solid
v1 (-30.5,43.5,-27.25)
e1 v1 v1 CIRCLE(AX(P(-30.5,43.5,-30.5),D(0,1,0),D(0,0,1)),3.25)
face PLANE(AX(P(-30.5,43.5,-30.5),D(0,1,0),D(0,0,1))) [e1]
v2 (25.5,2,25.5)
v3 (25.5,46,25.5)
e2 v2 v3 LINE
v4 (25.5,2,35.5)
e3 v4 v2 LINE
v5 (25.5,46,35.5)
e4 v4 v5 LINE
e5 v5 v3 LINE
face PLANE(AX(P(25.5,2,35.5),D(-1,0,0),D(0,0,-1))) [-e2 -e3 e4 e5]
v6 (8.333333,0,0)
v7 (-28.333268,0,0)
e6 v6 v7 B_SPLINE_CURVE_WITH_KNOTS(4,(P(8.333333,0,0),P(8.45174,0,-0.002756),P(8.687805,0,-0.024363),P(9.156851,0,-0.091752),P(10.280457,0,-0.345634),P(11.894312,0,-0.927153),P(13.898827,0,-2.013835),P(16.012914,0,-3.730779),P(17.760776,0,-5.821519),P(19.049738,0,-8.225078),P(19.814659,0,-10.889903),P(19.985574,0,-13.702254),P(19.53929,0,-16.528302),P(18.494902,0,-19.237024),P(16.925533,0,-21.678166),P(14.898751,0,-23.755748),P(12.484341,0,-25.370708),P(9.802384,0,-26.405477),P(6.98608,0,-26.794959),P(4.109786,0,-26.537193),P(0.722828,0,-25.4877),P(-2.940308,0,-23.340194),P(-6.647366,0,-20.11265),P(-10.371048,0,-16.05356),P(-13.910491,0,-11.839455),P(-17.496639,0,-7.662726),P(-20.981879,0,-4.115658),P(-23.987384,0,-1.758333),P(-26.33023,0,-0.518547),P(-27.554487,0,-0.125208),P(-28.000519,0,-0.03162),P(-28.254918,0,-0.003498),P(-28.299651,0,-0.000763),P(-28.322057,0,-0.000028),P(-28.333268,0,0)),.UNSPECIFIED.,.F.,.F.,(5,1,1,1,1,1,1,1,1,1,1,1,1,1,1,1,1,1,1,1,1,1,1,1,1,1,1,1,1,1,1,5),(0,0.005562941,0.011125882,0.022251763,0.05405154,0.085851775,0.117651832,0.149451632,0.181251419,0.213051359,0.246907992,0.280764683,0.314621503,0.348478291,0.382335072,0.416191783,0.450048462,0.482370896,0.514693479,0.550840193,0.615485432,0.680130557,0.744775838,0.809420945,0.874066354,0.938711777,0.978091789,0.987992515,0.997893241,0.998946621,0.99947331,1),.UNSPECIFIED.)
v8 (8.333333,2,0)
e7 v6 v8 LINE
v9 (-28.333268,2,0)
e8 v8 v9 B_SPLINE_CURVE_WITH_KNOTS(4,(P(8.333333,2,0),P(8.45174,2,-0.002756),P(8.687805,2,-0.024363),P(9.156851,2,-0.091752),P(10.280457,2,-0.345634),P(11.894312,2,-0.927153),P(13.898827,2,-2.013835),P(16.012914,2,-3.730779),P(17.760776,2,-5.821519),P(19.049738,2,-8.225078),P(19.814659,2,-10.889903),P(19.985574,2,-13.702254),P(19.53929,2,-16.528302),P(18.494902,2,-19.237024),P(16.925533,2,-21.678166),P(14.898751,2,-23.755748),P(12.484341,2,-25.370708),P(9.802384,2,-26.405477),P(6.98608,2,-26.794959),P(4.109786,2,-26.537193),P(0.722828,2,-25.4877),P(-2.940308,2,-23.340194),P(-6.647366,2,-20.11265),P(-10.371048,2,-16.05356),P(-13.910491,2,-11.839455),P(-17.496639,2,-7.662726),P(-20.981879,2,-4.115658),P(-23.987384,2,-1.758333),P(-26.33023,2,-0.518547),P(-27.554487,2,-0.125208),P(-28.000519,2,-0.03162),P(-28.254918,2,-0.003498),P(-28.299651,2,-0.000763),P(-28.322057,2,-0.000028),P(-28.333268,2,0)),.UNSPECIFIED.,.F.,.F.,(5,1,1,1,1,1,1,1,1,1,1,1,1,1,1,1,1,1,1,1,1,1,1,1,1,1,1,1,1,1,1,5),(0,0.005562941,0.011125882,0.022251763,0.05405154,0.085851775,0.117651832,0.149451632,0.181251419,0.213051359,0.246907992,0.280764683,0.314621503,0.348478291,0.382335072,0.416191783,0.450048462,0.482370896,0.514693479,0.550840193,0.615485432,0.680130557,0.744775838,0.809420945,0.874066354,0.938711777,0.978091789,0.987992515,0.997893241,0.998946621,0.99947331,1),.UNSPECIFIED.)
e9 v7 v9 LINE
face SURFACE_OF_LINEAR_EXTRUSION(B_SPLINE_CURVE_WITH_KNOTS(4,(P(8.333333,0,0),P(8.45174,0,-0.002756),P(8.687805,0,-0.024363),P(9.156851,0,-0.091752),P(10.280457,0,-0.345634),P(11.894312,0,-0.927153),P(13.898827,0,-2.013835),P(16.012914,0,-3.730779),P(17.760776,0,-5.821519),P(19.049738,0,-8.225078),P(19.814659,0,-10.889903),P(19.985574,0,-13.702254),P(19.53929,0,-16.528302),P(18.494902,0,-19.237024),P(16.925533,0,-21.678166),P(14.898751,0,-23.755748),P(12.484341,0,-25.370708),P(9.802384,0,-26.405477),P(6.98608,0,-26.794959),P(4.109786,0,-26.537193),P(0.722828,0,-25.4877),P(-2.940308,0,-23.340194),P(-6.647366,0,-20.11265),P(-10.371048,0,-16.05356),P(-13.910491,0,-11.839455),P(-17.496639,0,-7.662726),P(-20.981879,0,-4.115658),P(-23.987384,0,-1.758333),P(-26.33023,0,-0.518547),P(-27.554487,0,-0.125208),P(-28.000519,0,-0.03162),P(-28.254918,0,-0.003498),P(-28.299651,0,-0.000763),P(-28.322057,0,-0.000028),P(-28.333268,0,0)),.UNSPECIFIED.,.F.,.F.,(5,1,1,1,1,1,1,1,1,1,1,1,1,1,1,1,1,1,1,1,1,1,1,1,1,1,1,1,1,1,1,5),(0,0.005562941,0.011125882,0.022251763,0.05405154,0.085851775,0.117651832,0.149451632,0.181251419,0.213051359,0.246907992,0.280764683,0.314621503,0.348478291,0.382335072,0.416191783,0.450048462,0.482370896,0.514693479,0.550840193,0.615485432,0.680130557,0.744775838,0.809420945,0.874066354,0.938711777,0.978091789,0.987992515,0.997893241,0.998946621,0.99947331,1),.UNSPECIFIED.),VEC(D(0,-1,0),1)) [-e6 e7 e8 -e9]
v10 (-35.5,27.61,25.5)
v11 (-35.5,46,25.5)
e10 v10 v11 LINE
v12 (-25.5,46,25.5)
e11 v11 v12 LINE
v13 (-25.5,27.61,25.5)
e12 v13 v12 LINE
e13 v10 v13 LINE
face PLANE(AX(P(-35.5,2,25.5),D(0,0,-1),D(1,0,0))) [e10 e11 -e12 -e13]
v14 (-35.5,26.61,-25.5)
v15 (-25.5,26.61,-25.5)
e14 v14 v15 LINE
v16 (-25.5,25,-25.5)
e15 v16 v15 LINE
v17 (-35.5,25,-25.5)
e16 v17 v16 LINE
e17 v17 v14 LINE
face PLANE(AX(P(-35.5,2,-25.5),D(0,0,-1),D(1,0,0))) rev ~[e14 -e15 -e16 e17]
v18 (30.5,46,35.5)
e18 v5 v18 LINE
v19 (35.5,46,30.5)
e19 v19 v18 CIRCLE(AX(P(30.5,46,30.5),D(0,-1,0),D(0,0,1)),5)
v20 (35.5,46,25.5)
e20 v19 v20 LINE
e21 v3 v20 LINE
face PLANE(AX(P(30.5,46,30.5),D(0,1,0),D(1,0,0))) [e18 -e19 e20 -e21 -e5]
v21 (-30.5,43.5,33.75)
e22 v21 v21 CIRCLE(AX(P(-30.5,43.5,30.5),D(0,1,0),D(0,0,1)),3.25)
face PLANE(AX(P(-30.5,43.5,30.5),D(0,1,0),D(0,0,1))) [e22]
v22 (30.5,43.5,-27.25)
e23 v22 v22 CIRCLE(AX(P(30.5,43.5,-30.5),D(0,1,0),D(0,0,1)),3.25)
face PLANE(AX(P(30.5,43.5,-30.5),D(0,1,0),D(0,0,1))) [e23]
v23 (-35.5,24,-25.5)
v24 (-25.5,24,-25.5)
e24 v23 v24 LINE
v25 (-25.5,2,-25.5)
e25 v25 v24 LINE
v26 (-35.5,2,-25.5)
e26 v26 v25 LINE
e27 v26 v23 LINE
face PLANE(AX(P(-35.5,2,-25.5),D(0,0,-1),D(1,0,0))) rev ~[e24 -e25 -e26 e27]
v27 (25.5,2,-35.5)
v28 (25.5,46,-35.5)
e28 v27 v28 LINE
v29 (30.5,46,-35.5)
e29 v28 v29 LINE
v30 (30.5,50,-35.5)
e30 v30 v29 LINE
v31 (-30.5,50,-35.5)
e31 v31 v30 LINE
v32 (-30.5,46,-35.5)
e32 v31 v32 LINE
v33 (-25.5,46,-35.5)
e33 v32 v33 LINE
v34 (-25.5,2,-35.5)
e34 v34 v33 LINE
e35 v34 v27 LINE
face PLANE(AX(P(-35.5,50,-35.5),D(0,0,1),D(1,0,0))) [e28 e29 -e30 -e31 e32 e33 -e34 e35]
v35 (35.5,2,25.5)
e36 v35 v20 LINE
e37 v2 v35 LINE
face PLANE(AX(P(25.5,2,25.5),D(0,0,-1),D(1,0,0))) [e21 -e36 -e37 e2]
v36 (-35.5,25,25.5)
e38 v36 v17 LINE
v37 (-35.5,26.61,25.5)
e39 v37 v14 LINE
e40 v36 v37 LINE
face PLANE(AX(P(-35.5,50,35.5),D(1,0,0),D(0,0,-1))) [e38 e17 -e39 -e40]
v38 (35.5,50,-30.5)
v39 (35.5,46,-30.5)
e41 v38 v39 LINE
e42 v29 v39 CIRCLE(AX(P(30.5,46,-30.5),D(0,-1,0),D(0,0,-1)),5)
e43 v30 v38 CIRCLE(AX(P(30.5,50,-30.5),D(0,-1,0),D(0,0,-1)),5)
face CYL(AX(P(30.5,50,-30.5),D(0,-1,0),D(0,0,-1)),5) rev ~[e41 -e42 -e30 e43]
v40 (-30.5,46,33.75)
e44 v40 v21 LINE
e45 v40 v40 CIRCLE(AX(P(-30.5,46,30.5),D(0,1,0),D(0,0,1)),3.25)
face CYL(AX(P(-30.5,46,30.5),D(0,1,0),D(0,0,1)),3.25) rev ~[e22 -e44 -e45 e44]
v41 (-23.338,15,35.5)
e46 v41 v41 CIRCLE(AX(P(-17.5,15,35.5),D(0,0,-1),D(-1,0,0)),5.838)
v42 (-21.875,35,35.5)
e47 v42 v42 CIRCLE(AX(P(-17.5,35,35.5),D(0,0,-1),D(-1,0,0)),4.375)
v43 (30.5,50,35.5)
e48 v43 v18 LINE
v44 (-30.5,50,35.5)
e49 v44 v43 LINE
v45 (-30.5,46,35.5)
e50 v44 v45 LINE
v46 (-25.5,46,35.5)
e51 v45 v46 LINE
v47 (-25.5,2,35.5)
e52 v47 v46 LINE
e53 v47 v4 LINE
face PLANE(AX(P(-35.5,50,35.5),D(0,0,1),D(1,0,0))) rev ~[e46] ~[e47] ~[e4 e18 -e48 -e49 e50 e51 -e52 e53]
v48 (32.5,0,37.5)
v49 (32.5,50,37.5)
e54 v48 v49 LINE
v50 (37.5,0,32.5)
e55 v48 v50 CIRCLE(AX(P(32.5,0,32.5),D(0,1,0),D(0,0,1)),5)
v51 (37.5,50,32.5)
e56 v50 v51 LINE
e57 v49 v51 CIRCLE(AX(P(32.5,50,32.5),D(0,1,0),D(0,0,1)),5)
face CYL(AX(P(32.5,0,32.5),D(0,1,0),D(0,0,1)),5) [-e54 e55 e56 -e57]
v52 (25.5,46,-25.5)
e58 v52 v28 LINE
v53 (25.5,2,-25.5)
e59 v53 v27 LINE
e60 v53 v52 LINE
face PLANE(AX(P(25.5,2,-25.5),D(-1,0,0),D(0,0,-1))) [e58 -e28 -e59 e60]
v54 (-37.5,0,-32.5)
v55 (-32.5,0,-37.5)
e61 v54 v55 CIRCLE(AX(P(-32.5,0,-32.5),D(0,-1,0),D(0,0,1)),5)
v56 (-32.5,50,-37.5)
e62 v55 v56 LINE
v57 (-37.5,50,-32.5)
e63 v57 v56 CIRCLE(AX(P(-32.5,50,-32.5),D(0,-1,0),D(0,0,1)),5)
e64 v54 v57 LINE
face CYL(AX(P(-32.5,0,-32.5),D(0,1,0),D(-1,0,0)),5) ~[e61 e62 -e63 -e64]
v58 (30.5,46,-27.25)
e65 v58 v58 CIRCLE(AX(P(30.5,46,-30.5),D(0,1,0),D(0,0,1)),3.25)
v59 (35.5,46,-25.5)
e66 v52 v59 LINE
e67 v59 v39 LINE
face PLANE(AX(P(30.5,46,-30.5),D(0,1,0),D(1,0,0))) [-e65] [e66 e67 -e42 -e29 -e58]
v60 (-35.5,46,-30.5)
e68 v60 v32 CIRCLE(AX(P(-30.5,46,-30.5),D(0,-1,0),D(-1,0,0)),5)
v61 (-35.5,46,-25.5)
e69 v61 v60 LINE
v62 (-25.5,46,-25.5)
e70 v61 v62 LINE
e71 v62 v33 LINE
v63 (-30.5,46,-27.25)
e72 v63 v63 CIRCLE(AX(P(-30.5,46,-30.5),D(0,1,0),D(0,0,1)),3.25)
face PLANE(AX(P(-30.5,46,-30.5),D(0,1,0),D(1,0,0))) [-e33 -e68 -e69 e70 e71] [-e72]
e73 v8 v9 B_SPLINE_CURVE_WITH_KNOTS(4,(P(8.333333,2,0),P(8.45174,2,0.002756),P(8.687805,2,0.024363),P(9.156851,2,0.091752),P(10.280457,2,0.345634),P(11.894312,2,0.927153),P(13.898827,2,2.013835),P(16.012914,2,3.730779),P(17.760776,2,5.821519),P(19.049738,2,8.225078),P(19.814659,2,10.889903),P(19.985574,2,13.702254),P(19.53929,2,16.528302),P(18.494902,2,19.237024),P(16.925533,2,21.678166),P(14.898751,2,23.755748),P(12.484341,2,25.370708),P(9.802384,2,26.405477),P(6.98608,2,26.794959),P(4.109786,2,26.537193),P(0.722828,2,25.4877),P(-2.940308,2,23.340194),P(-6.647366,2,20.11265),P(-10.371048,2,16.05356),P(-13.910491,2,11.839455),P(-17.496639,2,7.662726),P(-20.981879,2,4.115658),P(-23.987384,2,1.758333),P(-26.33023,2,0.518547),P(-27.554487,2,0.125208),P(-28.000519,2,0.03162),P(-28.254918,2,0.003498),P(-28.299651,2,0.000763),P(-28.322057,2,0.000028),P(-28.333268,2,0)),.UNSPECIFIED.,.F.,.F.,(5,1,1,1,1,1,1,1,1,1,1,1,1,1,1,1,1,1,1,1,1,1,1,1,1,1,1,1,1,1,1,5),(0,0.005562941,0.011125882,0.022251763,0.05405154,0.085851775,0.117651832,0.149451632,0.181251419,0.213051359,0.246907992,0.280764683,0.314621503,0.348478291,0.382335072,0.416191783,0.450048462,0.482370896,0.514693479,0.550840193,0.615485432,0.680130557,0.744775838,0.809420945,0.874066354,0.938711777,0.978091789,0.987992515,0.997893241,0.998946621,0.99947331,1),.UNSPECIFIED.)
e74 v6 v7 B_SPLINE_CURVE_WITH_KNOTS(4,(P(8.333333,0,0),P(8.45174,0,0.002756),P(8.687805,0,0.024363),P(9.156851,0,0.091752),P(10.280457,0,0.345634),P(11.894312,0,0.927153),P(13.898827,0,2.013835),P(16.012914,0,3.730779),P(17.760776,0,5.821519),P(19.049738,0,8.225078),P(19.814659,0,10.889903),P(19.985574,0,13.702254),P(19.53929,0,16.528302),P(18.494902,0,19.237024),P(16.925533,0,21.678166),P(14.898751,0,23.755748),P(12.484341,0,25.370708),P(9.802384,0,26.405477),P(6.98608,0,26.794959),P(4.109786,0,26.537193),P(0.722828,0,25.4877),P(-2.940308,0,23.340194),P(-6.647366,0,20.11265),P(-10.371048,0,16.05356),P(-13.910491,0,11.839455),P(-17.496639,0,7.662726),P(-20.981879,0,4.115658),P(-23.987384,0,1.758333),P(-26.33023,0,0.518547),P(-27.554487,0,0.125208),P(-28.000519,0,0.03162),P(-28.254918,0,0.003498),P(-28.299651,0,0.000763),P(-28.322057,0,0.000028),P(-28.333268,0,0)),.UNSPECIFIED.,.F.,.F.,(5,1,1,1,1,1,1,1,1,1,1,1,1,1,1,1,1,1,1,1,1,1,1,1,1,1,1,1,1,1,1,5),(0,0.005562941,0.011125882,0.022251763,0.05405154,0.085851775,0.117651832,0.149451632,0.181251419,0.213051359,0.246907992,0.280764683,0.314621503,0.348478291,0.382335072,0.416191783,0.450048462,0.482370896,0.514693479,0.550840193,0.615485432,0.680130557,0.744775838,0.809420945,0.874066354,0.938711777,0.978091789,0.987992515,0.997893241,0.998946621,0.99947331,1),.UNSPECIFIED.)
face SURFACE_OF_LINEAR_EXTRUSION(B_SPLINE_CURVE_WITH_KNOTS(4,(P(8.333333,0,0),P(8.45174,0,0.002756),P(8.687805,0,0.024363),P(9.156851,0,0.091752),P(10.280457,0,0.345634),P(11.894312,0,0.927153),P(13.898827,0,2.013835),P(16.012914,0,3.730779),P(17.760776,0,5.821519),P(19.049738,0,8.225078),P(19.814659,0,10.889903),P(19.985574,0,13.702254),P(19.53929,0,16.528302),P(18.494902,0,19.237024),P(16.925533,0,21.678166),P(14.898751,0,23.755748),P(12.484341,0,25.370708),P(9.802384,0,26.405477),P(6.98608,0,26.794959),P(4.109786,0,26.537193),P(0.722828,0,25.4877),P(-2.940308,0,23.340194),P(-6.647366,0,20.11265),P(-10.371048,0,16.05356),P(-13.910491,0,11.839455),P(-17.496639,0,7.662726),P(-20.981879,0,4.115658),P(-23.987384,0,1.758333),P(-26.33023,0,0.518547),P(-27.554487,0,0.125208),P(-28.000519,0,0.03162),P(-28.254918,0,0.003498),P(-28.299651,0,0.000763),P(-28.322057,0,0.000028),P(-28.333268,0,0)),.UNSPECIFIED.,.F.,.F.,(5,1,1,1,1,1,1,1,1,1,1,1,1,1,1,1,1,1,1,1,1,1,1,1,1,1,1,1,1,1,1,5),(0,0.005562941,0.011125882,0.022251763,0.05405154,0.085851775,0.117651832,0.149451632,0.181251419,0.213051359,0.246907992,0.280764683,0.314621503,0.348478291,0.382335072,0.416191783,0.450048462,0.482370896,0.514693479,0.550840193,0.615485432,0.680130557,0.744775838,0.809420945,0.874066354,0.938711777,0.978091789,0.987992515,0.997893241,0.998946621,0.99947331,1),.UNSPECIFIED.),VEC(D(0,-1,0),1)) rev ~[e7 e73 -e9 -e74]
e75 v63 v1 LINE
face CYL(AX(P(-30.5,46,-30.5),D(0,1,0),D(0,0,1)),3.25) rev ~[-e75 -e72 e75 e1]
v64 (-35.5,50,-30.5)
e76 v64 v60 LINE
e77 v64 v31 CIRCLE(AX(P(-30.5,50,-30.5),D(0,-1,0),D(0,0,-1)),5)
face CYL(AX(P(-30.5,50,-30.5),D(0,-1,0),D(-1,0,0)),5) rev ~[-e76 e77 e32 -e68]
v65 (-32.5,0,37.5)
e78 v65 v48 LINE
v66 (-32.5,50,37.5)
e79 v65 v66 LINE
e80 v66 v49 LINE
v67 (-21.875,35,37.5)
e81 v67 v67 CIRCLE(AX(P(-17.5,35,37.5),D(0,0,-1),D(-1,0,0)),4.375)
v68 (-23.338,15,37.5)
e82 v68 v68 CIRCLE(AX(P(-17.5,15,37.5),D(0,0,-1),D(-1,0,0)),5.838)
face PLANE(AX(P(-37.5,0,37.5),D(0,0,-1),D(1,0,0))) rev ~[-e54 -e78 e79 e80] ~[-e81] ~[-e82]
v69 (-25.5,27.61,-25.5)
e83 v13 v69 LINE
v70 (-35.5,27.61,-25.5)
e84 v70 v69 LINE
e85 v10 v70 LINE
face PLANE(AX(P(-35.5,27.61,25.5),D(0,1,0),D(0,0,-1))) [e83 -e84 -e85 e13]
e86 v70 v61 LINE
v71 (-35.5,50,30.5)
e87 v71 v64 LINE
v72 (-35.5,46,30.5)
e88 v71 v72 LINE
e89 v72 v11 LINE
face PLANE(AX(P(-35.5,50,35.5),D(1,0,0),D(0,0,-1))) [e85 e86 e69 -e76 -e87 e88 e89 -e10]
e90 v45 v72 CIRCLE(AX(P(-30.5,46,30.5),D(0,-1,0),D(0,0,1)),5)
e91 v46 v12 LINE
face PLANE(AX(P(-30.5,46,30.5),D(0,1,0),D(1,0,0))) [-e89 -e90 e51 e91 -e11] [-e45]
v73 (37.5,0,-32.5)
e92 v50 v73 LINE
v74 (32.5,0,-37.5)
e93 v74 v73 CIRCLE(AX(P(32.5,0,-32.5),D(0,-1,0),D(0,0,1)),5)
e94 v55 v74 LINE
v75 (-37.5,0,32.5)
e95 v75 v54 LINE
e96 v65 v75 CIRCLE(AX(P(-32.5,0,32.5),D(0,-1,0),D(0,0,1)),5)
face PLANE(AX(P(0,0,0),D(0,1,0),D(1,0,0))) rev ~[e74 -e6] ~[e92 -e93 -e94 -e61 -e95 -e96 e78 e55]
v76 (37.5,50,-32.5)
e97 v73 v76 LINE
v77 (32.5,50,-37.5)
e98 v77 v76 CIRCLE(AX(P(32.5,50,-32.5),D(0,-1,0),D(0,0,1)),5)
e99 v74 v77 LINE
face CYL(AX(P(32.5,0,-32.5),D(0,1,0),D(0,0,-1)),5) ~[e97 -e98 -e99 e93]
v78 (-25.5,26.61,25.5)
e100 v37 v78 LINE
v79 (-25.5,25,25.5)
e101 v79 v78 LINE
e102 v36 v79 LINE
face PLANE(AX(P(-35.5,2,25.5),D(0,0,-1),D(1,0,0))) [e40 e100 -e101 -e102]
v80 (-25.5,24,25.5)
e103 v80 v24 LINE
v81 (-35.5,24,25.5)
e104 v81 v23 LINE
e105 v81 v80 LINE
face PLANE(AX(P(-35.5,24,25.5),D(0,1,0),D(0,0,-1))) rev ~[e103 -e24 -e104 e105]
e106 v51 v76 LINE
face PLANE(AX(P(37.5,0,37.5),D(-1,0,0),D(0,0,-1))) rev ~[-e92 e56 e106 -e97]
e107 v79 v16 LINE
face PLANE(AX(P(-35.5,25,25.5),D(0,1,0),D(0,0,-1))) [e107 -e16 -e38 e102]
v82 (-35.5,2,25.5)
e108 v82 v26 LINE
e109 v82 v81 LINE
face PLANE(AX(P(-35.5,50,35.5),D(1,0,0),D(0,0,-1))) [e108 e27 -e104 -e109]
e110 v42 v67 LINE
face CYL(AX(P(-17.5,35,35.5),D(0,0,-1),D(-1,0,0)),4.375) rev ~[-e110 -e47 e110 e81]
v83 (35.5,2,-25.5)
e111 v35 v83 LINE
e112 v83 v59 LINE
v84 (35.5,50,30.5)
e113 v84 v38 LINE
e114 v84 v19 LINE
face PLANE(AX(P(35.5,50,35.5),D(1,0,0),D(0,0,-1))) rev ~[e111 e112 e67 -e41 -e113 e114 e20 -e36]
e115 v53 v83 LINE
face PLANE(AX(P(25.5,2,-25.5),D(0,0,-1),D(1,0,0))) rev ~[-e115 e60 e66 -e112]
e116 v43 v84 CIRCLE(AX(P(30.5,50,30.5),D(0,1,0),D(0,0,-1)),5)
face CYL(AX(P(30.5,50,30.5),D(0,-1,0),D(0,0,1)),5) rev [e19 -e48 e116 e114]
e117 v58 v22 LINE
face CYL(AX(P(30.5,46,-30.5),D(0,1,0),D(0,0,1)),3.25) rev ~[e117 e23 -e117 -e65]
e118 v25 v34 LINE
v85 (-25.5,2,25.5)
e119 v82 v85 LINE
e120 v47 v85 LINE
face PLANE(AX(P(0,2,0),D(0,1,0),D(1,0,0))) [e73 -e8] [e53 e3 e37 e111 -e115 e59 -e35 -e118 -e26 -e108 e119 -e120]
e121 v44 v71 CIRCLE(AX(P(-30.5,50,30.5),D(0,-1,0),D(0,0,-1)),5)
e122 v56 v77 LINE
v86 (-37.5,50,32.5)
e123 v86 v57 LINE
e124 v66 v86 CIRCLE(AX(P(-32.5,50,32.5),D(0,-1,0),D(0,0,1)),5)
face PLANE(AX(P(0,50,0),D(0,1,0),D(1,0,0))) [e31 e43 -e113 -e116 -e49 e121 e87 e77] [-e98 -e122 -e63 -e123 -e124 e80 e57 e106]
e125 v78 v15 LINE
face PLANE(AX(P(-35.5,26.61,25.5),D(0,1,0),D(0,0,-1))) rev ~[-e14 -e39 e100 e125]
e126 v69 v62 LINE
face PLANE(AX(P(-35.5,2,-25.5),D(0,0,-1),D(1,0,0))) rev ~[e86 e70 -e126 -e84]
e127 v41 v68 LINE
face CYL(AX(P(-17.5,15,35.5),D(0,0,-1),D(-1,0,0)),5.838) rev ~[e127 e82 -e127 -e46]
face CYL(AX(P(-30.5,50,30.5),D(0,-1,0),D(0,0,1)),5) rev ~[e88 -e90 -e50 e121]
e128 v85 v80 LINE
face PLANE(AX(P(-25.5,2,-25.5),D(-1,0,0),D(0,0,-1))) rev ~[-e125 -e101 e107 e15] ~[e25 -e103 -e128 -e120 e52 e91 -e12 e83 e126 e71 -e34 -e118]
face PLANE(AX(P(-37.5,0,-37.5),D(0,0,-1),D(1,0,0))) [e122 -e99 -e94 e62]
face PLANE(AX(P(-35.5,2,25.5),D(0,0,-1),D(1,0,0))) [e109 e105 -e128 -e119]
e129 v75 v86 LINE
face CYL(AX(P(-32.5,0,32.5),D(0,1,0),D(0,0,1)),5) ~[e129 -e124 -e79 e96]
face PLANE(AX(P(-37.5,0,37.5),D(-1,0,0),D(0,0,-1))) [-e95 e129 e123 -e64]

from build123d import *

# Parameters (mm, degrees)
SKETCH1_W           = 75
SKETCH1_H           = 75
BOSS_EXTRUDE1_DEPTH = 50
SKETCH2_W           = 71
SKETCH2_H           = 71
CUT_EXTRUDE1_DEPTH  = 48
CUT_EXTRUDE6_DEPTH  = 2
FILLET4_R           = 5
FILLET5_R           = 5
FILLET6_R           = 5
FILLET7_R           = 5
SKETCH4_W           = 10
SKETCH4_H           = 10
BOSS_EXTRUDE2_DEPTH = 44
SKETCH5_W           = 10
SKETCH5_H           = 10
BOSS_EXTRUDE3_DEPTH = 44
SKETCH8_W           = 51
SKETCH8_H           = 1
BOSS_EXTRUDE4_DEPTH = 10
SKETCH9_W           = 51
SKETCH9_H           = 1
BOSS_EXTRUDE5_DEPTH = 10
SKETCH11_R          = 3.25
CUT_EXTRUDE8_DEPTH  = 2.5
SKETCH12_R          = 4.375
CUT_EXTRUDE9_DEPTH  = 2
SKETCH13_R          = 5.838
CUT_EXTRUDE10_DEPTH = 2


with BuildPart() as part:
    # Sketch1 → Boss-Extrude1 (new body)
    with BuildSketch(Plane(origin=(0, 0, 0), x_dir=(1, 0, 0), z_dir=(0, 1, 0))):
        Rectangle(SKETCH1_W, SKETCH1_H)
    extrude(amount=BOSS_EXTRUDE1_DEPTH)

    # Sketch2 → Cut-Extrude1 (cut)
    with BuildSketch(Plane(origin=(0, 50, 0), x_dir=(1, 0, 0), z_dir=(0, 1, 0))):
        Rectangle(SKETCH2_W, SKETCH2_H)
    extrude(amount=-CUT_EXTRUDE1_DEPTH, mode=Mode.SUBTRACT)

    # Sketch3 → Cut-Extrude6 (cut)
    with BuildSketch(Plane.XZ):
        with BuildLine():
            add(Edge.make_bspline(
                [(8.333333333, 0), (8.451740367, 0.002755681), (8.687804992, 0.024362572), (9.156850661, 0.091751534), (10.280456566, 0.34563371), (11.894311549, 0.927153054), (13.898826649, 2.013834871), (16.012913856, 3.730779379), (17.760775609, 5.821518912), (19.049737677, 8.225078468), (19.814659338, 10.889902937), (19.985573746, 13.70225433), (19.539290317, 16.528302053), (18.494901563, 19.237024306), (16.925532574, 21.678165695), (14.89875072, 23.755747946), (12.484340707, 25.370708371), (9.802384445, 26.405476858), (6.98608034, 26.794959186), (4.109785684, 26.53719328), (0.722828385, 25.487699584), (-2.940307765, 23.340193971), (-6.647366, 20.112650151), (-10.3710479, 16.053559605), (-13.910491439, 11.839455496), (-17.496638537, 7.662725627), (-20.98187941, 4.115658379), (-23.987384387, 1.758333025), (-26.330229801, 0.518546697), (-27.55448652, 0.125207567), (-28.000518844, 0.031619583), (-28.254918245, 0.003498461), (-28.299650799, 0.000763354), (-28.322057313, 2.7753e-05), (-28.333267806, 1.08e-07)],
                knots=[0, 0, 0, 0, 0, 0.005562941, 0.011125882, 0.022251763, 0.05405154, 0.085851775, 0.117651832, 0.149451632, 0.181251419, 0.213051359, 0.246907992, 0.280764683, 0.314621503, 0.348478291, 0.382335072, 0.416191783, 0.450048462, 0.482370896, 0.514693479, 0.550840193, 0.615485432, 0.680130557, 0.744775838, 0.809420945, 0.874066354, 0.938711777, 0.978091789, 0.987992515, 0.997893241, 0.998946621, 0.99947331, 1, 1, 1, 1, 1], degree=4))
            add(Edge.make_bspline(
                [(8.333333333, 0), (8.451740367, -0.002755681), (8.687804992, -0.024362572), (9.156850661, -0.091751534), (10.280456566, -0.34563371), (11.894311549, -0.927153054), (13.898826649, -2.013834871), (16.012913856, -3.730779379), (17.760775609, -5.821518912), (19.049737677, -8.225078468), (19.814659338, -10.889902937), (19.985573746, -13.70225433), (19.539290317, -16.528302053), (18.494901563, -19.237024306), (16.925532574, -21.678165695), (14.89875072, -23.755747946), (12.484340707, -25.370708371), (9.802384445, -26.405476858), (6.98608034, -26.794959186), (4.109785684, -26.53719328), (0.722828385, -25.487699584), (-2.940307765, -23.340193971), (-6.647366, -20.112650151), (-10.3710479, -16.053559605), (-13.910491439, -11.839455496), (-17.496638537, -7.662725627), (-20.98187941, -4.115658379), (-23.987384387, -1.758333025), (-26.330229801, -0.518546697), (-27.55448652, -0.125207567), (-28.000518844, -0.031619583), (-28.254918245, -0.003498461), (-28.299650799, -0.000763354), (-28.322057313, -2.7753e-05), (-28.333267806, 1.08e-07)],
                knots=[0, 0, 0, 0, 0, 0.005562941, 0.011125882, 0.022251763, 0.05405154, 0.085851775, 0.117651832, 0.149451632, 0.181251419, 0.213051359, 0.246907992, 0.280764683, 0.314621503, 0.348478291, 0.382335072, 0.416191783, 0.450048462, 0.482370896, 0.514693479, 0.550840193, 0.615485432, 0.680130557, 0.744775838, 0.809420945, 0.874066354, 0.938711777, 0.978091789, 0.987992515, 0.997893241, 0.998946621, 0.99947331, 1, 1, 1, 1, 1], degree=4))
        make_face()
    extrude(amount=-CUT_EXTRUDE6_DEPTH, mode=Mode.SUBTRACT)

    # Fillet4
    fillet4_edges = [part.edges().sort_by_distance(p)[0] for p in [
        (35.5, 26, 35.5),
        (37.5, 25, 37.5),
    ]]
    fillet(fillet4_edges, radius=FILLET4_R)

    # Fillet5
    fillet5_edges = [part.edges().sort_by_distance(p)[0] for p in [
        (-35.5, 26, 35.5),
        (-37.5, 25, 37.5),
    ]]
    fillet(fillet5_edges, radius=FILLET5_R)

    # Fillet6
    fillet6_edges = [part.edges().sort_by_distance(p)[0] for p in [
        (-35.5, 26, -35.5),
        (-37.5, 25, -37.5),
    ]]
    fillet(fillet6_edges, radius=FILLET6_R)

    # Fillet7
    fillet7_edges = [part.edges().sort_by_distance(p)[0] for p in [
        (35.5, 26, -35.5),
        (37.5, 25, -37.5),
    ]]
    fillet(fillet7_edges, radius=FILLET7_R)

    # Sketch4 → Boss-Extrude2 (add)
    with BuildSketch(Plane(origin=(0, 2, 0), x_dir=(1, 0, 0), z_dir=(0, 1, 0))):
        with Locations((30.5, 30.5)):
            Rectangle(SKETCH4_W, SKETCH4_H)
    extrude(amount=BOSS_EXTRUDE2_DEPTH)

    # Sketch5 → Boss-Extrude3 (add)
    with BuildSketch(Plane(origin=(0, 2, 0), x_dir=(1, 0, 0), z_dir=(0, 1, 0))):
        with Locations((-30.5, 30.5)):
            Rectangle(SKETCH5_W, SKETCH5_H)
        with Locations((-30.5, -30.5)):
            Rectangle(SKETCH5_W, SKETCH5_H)
        with Locations((30.5, -30.5)):
            Rectangle(SKETCH5_W, SKETCH5_H)
    extrude(amount=BOSS_EXTRUDE3_DEPTH)

    # Sketch8 → Boss-Extrude4 (add)
    with BuildSketch(Plane(origin=(-35.5, 0, 0), x_dir=(0, 0, -1), z_dir=(1, 0, 0))):
        with Locations((0, 24.5)):
            Rectangle(SKETCH8_W, SKETCH8_H)
    extrude(amount=BOSS_EXTRUDE4_DEPTH)

    # Sketch9 → Boss-Extrude5 (add)
    with BuildSketch(Plane(origin=(-35.5, 0, 0), x_dir=(0, 0, -1), z_dir=(1, 0, 0))):
        with Locations((0, 27.11)):
            Rectangle(SKETCH9_W, SKETCH9_H)
    extrude(amount=BOSS_EXTRUDE5_DEPTH)

    # Sketch11 → Cut-Extrude8 (cut)
    with BuildSketch(Plane(origin=(0, 46, 0), x_dir=(1, 0, 0), z_dir=(0, 1, 0))):
        with Locations(Location((30.5, 30.5, 0), (0, 0, 270))):
            Circle(SKETCH11_R)
        with Locations(Location((-30.5, 30.5, 0), (0, 0, 270))):
            Circle(SKETCH11_R)
        with Locations(Location((-30.5, -30.5, 0), (0, 0, 270))):
            Circle(SKETCH11_R)
    extrude(amount=-CUT_EXTRUDE8_DEPTH, mode=Mode.SUBTRACT)

    # Sketch12 → Cut-Extrude9 (cut)
    with BuildSketch(Plane(origin=(0, 0, 35.5), x_dir=(-1, 0, 0), z_dir=(0, 0, -1))):
        with Locations((17.5, 35)):
            Circle(SKETCH12_R)
    extrude(amount=-CUT_EXTRUDE9_DEPTH, mode=Mode.SUBTRACT)

    # Sketch13 → Cut-Extrude10 (cut)
    with BuildSketch(Plane(origin=(0, 0, 35.5), x_dir=(-1, 0, 0), z_dir=(0, 0, -1))):
        with Locations((17.5, 15)):
            Circle(SKETCH13_R)
    extrude(amount=-CUT_EXTRUDE10_DEPTH, mode=Mode.SUBTRACT)


solid = part.part
